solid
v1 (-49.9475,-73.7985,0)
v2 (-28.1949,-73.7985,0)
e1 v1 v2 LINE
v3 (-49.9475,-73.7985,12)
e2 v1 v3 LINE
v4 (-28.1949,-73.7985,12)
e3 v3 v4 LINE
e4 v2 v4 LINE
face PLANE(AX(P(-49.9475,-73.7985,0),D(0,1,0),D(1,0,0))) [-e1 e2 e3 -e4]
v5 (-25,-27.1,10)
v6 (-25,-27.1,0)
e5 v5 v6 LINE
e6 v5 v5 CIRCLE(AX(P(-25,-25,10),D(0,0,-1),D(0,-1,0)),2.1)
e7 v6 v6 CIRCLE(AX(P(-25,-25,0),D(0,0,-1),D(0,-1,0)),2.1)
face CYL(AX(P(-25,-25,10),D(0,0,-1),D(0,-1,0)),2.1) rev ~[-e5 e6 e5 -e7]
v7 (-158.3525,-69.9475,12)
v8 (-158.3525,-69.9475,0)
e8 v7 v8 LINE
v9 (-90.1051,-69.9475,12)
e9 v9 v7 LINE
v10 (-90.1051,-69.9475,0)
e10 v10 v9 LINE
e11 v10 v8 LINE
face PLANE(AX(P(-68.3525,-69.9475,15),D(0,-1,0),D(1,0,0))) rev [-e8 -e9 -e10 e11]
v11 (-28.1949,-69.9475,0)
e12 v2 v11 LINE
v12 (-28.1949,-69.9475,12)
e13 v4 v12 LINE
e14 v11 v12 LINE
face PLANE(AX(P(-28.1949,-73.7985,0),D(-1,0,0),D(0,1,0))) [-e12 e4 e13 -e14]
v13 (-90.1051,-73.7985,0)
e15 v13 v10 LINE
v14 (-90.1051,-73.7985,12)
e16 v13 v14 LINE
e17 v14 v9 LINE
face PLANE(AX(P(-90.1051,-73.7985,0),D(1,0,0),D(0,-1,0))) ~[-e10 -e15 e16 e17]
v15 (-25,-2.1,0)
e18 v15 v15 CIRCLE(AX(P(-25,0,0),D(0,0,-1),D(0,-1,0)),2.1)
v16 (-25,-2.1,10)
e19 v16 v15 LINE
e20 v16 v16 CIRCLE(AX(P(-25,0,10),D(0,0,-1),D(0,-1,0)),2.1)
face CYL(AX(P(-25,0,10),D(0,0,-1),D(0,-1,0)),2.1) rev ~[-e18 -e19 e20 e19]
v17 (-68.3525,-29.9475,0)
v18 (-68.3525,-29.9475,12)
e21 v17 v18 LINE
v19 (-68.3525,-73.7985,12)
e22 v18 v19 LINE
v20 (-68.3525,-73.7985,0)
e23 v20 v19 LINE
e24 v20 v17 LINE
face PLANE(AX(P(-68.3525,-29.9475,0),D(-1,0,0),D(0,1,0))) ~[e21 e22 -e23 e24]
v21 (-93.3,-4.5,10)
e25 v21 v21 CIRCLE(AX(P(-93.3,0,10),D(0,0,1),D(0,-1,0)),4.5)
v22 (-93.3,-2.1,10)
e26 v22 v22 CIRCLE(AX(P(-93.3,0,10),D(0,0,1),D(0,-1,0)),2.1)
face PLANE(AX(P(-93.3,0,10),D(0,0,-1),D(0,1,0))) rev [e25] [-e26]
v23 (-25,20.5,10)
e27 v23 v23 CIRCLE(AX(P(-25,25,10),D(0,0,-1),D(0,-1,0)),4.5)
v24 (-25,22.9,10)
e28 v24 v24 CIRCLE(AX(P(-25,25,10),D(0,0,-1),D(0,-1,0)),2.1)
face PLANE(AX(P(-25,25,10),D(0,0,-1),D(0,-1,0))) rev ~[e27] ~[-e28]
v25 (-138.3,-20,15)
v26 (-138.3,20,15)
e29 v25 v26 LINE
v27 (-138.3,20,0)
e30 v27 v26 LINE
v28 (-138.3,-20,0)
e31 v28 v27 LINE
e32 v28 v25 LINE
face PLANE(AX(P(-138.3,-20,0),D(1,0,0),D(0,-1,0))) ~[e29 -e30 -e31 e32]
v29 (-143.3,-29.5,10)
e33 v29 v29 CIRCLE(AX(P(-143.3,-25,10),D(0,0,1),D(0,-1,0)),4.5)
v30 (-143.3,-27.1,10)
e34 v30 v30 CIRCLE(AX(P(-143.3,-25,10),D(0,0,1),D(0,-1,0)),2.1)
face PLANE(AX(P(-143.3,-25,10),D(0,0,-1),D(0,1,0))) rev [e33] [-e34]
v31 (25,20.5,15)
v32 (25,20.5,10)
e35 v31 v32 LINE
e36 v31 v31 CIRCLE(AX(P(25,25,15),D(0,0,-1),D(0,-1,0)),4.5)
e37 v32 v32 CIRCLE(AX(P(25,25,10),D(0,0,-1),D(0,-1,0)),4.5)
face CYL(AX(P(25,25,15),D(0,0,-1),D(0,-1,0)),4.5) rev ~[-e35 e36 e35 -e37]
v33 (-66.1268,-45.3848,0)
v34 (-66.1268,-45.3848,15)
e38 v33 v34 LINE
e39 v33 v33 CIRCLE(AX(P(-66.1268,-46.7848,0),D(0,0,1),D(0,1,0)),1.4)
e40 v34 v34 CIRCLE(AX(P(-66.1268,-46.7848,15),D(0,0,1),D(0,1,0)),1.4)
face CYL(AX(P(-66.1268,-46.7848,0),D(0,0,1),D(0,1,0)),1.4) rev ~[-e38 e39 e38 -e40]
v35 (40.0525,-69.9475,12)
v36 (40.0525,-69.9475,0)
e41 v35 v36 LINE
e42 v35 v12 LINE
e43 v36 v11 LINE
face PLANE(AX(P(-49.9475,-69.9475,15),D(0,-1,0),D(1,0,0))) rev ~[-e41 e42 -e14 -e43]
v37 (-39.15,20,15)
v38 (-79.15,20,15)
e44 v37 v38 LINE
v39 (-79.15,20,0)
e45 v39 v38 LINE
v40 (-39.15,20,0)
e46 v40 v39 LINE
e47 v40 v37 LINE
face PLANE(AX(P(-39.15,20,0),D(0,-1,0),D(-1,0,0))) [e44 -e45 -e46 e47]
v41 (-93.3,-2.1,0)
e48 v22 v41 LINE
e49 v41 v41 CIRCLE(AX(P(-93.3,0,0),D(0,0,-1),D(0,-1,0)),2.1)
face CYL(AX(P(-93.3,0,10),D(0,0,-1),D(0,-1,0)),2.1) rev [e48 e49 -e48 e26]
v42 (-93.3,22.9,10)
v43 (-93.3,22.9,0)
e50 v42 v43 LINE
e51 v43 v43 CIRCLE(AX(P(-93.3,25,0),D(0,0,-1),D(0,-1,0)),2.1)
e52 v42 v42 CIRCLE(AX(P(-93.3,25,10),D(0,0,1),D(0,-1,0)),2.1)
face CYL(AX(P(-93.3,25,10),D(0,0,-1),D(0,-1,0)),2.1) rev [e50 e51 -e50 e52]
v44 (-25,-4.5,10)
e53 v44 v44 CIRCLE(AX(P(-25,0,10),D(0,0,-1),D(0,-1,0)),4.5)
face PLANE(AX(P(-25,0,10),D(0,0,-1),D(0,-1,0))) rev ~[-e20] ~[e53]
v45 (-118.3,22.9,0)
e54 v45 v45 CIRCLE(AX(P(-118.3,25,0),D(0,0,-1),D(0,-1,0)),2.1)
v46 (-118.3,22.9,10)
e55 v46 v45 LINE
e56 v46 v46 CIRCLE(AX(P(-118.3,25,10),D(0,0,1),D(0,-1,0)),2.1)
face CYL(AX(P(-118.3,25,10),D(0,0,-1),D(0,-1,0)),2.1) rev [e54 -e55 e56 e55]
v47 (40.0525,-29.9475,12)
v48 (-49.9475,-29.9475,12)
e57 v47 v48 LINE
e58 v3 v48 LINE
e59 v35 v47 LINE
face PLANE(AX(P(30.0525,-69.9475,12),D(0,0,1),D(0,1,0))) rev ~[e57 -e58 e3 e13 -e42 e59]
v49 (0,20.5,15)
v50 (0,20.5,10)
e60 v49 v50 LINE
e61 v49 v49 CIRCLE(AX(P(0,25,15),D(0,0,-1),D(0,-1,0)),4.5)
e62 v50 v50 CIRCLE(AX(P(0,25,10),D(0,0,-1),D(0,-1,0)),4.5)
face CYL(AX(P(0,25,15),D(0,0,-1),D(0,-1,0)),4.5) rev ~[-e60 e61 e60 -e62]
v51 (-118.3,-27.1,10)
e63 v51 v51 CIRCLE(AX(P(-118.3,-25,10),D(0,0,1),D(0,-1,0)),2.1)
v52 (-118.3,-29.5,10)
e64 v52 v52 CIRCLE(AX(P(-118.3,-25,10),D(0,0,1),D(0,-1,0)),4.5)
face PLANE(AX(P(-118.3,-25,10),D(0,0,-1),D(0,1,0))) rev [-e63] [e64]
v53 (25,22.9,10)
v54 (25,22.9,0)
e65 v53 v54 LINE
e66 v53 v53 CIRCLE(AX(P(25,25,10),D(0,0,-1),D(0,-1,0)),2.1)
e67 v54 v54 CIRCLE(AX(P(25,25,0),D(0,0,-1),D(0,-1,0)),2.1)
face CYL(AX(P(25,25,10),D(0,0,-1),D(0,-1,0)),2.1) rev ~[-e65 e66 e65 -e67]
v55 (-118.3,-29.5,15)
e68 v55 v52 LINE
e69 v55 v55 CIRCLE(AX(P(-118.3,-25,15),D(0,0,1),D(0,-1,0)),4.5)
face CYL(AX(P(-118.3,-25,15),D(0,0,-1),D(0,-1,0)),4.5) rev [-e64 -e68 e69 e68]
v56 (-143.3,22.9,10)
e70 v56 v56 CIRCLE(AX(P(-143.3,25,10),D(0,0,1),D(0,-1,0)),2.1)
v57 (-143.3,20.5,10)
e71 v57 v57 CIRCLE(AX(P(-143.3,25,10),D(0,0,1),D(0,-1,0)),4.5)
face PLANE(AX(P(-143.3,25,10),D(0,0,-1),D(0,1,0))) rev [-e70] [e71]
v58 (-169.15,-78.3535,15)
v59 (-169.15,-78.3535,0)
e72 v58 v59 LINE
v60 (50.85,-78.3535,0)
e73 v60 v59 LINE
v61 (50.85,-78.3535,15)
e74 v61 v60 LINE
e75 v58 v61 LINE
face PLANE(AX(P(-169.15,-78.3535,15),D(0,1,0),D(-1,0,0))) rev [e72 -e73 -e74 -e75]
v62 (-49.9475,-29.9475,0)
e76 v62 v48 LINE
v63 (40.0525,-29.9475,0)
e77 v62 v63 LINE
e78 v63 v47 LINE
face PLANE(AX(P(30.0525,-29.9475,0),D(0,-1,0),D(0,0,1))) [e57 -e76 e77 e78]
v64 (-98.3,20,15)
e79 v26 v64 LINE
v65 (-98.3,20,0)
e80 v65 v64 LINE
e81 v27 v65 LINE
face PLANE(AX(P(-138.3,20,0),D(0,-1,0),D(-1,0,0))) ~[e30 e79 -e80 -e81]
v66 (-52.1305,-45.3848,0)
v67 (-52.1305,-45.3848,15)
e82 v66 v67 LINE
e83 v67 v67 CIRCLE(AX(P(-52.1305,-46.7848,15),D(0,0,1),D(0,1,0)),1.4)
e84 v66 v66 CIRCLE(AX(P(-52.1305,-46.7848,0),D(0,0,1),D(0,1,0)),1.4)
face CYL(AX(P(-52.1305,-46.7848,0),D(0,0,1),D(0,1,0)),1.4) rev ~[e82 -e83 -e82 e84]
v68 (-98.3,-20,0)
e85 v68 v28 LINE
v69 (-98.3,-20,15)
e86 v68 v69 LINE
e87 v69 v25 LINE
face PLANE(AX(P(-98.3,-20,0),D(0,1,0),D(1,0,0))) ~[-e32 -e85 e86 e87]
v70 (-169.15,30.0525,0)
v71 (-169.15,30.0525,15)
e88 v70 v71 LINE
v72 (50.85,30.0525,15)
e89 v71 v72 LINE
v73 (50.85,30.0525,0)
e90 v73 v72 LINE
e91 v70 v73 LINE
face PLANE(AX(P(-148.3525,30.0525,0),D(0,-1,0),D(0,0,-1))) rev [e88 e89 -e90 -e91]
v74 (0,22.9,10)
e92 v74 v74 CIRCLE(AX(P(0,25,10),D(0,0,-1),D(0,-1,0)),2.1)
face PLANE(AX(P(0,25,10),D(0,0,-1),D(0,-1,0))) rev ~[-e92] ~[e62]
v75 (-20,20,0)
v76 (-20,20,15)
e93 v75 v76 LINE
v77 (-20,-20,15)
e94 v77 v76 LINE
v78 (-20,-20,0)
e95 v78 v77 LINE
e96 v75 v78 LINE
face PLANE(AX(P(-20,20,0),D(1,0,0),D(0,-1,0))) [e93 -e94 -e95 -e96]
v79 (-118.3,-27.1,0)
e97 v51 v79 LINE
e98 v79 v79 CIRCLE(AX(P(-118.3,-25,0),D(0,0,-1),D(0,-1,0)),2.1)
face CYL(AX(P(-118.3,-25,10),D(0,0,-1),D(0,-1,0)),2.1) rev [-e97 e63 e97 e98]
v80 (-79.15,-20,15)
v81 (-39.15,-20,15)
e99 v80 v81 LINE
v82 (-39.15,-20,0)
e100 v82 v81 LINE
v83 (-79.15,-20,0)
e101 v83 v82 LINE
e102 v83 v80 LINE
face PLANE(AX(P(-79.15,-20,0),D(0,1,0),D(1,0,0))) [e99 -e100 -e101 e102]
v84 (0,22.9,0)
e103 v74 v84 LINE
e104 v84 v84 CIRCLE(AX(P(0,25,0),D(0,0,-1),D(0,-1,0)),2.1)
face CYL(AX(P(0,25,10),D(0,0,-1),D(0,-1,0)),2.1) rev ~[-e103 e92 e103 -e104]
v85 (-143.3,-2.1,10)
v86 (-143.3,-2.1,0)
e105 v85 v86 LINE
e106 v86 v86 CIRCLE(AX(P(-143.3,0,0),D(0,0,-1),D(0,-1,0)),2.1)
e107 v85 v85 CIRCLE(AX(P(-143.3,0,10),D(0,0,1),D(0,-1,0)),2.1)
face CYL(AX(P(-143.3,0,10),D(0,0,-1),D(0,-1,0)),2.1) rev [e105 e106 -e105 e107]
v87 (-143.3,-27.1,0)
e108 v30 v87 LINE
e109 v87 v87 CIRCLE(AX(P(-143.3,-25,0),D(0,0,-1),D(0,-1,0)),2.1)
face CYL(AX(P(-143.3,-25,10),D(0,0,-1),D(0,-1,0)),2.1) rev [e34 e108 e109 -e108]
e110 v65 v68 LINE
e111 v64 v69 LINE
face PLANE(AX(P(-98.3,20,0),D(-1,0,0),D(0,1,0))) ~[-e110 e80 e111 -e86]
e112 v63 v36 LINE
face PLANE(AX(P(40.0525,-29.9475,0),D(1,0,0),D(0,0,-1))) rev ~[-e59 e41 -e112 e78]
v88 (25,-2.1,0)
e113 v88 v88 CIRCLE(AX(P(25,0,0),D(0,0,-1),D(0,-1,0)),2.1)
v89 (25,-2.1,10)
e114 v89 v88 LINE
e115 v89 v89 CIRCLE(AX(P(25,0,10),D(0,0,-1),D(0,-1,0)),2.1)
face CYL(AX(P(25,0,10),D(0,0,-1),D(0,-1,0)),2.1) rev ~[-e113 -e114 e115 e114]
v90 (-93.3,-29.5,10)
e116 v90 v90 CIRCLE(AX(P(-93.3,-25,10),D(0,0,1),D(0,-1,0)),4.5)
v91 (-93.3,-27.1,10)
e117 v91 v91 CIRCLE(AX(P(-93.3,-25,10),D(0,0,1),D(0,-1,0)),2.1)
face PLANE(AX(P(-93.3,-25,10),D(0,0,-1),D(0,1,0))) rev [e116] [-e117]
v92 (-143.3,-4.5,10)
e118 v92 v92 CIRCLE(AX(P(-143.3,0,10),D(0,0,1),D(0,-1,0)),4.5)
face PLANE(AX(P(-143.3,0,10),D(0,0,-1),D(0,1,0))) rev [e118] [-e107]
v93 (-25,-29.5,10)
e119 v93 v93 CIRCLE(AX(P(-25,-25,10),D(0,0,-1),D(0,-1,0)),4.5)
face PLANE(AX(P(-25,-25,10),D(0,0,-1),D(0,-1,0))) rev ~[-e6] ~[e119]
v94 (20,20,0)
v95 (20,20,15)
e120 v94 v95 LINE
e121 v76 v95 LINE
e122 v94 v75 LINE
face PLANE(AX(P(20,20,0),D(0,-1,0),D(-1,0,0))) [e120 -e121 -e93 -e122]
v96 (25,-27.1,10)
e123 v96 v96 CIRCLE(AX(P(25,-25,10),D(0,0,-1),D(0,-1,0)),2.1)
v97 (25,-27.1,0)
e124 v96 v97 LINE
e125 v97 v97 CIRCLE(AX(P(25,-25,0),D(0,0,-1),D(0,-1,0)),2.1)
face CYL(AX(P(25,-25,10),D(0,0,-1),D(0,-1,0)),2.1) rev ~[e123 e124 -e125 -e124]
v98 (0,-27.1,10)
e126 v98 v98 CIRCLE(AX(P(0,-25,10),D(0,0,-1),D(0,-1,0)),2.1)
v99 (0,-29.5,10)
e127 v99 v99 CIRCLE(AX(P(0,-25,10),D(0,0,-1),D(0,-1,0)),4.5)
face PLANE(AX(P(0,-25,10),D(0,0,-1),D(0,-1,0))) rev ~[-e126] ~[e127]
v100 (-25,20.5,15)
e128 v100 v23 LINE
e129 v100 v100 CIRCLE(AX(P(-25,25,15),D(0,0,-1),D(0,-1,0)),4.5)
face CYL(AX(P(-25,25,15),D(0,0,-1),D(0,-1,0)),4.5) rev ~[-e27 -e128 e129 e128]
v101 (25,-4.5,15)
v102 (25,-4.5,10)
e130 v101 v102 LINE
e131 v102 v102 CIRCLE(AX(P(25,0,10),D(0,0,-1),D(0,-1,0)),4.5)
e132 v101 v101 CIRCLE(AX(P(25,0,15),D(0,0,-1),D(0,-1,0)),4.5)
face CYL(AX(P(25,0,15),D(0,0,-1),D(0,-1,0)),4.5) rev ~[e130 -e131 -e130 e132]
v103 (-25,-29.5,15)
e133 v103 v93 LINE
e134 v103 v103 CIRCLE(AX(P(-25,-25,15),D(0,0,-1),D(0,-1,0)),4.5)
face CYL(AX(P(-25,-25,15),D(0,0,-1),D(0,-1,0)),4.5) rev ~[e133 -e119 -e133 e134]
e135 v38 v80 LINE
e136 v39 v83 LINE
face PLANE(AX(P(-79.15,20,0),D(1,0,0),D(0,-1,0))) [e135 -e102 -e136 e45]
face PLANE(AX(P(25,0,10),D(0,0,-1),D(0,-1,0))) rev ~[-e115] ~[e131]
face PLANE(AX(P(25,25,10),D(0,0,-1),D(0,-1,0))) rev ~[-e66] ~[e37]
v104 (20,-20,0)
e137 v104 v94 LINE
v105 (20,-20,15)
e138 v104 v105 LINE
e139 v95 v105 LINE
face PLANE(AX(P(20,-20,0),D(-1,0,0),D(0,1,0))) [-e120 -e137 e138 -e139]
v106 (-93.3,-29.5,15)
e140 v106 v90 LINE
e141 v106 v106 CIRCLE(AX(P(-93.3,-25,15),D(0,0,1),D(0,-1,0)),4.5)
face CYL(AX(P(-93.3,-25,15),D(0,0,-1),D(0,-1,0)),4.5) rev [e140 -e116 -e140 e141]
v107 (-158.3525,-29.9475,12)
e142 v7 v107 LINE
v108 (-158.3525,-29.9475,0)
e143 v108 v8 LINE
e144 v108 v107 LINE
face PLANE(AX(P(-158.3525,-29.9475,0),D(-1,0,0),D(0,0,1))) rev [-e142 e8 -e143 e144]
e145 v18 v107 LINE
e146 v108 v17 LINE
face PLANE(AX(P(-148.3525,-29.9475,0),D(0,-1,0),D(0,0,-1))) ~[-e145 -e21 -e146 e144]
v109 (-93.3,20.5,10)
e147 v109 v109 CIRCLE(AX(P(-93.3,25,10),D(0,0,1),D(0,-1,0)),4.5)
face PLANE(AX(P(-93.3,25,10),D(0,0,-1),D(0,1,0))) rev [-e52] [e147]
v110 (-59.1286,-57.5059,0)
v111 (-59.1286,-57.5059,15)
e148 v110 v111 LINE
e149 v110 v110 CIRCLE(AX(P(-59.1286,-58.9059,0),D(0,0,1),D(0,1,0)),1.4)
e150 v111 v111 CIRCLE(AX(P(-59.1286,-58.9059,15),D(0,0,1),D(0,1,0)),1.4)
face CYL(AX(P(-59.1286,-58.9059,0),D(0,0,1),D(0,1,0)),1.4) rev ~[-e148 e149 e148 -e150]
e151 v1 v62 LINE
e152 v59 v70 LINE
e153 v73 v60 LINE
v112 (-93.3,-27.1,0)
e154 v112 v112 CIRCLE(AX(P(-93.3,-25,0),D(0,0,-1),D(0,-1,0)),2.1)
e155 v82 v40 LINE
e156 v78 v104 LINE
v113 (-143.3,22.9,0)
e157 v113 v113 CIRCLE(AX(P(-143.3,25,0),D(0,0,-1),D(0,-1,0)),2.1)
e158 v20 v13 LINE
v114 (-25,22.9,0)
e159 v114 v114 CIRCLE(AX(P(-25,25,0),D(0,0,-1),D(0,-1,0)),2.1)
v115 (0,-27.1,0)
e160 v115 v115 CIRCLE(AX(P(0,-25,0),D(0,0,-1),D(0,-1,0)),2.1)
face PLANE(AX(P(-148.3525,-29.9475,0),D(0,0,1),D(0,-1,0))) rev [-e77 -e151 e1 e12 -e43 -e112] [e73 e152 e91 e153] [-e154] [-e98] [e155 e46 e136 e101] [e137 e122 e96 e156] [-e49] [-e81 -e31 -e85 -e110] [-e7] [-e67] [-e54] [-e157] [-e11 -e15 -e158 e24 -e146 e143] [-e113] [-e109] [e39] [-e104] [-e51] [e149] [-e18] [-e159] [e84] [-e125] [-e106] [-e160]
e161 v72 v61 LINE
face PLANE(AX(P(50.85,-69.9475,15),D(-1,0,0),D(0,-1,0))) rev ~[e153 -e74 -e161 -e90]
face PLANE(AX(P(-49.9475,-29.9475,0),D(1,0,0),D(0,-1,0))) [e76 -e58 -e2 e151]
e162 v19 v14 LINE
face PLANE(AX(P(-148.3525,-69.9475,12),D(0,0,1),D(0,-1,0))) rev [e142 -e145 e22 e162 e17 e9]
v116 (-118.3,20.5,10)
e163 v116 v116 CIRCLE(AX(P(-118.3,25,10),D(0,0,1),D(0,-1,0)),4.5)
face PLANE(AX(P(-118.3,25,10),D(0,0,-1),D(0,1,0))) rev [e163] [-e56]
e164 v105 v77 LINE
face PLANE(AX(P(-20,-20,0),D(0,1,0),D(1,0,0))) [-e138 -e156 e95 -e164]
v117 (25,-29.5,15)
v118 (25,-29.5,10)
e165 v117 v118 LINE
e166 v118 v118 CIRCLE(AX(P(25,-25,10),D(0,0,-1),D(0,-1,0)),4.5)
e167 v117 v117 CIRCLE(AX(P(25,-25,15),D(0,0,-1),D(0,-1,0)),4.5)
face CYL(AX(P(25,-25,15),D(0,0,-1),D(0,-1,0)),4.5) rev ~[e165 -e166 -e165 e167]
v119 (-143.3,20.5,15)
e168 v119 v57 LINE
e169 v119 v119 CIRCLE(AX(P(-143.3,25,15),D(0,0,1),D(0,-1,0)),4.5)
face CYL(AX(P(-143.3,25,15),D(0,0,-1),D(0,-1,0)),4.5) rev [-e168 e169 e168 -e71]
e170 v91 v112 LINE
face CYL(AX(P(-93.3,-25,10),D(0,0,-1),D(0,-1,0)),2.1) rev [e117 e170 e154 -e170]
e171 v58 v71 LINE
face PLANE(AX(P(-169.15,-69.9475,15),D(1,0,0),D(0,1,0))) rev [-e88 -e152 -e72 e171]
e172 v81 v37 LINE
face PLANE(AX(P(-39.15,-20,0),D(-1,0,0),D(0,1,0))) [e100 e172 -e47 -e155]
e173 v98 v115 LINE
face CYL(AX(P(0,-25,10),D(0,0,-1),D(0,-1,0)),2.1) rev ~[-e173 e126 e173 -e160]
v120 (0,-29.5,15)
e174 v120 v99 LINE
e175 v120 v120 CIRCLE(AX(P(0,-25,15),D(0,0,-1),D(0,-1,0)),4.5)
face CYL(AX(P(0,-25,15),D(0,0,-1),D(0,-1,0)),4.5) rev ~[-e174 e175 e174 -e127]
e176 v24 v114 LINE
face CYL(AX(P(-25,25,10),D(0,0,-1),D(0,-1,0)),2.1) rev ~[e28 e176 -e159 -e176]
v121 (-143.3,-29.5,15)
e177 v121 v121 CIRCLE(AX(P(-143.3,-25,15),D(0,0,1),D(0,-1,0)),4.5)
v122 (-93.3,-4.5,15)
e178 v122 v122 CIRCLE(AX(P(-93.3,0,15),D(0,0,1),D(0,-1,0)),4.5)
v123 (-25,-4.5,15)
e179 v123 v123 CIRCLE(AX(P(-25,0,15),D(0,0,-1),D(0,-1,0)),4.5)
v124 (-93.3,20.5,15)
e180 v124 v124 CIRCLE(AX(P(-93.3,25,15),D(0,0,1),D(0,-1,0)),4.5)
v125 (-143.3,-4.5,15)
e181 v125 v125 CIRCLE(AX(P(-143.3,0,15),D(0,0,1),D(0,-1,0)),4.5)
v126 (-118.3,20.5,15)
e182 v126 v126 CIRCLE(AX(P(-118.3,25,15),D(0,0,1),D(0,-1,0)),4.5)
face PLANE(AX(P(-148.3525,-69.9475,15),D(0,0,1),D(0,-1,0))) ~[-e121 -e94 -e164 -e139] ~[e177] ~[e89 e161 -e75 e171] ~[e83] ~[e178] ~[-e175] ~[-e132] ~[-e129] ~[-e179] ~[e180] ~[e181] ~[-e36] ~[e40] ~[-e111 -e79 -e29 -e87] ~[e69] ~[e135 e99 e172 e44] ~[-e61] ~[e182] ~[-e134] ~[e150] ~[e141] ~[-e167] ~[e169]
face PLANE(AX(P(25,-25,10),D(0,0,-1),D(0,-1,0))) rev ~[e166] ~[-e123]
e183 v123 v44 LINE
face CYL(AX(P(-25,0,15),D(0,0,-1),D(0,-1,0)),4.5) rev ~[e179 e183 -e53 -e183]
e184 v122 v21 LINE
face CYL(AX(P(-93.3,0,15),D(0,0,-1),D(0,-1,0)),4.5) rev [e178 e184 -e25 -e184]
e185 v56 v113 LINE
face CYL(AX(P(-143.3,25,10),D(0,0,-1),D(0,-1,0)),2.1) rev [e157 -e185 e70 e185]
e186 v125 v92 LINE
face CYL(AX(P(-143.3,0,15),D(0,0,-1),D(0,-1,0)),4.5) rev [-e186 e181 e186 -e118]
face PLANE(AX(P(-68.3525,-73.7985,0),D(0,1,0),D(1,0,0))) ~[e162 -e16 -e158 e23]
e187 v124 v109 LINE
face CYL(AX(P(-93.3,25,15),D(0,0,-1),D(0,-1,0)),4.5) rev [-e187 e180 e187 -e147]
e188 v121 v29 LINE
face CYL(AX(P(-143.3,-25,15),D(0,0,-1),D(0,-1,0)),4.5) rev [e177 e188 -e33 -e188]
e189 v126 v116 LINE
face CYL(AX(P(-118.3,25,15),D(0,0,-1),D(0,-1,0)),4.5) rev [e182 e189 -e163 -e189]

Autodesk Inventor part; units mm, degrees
ref_plane "YZ Plane" through (0, 0, 0) normal (1, 0, 0) x (0, 1, 0)
ref_plane "XZ Plane" through (0, 0, 0) normal (0, 1, 0) x (-1, 0, 0)
ref_plane "XY Plane" through (0, 0, 0) normal (0, 0, 1) x (1, 0, 0)
ref_plane "Work Plane1" through (0, 0, 0) normal (0, 0, 1) x (1, 0, 0)
ref_plane "Work Plane2" through (0, 0, 0) normal (0, 0, 1) x (1, 0, 0)
sketch "Sketch3" plane through (0, 0, 0) normal (0, 0, 1) x (1, 0, 0)
  circle A0 centre (0, 25) radius 1.95 construction
  circle A1 centre (-25, 0) radius 1.95 construction
  circle A2 centre (-25, -25) radius 1.95 construction
  circle A3 centre (25, 25) radius 1.95 construction
  circle A4 centre (25, -25) radius 1.95 construction
  circle A5 centre (-25, 25) radius 1.95 construction
  circle A6 centre (25, 0) radius 1.95 construction
  circle A7 centre (0, -25) radius 1.95 construction
  line L0 (-28, 30) -> (-30, 28) construction
  line L1 (-30, 28) -> (-30, -28) construction
  line L2 (-30, -28) -> (-28, -30) construction
  line L3 (-28, -30) -> (28, -30) construction
  line L4 (28, -30) -> (30, -28) construction
  line L5 (30, -28) -> (30, 28) construction
  line L6 (30, 28) -> (28, 30) construction
  line L7 (28, 30) -> (-28, 30) construction
  line L8 (30.0525, 30.0525) -> (-59.15, 30.0525)
  line L9 (-59.15, 30.0525) -> (-59.15, -29.9475)
  line L10 (-59.15, -29.9475) -> (30.0525, -29.9475)
  line L11 (30.0525, -29.9475) -> (30.0525, 30.0525)
  line L12 (-59.15, -29.9475) -> (-49.9475, -29.9475)
  line L13 (-49.9475, -29.9475) -> (-49.9475, -69.9475)
  line L14 (-49.9475, -69.9475) -> (-59.15, -69.9475)
  line L15 (-59.15, -69.9475) -> (-59.15, -29.9475)
  circle A8 centre (-59.15, -56.5073) radius 2.9125 construction
  point P0 (0, 0)
  dimension "d6" = 60
  dimension "d8" = 40
extrude "Extrusion2" add sketch "Sketch3" along normal blind 12
sketch "Sketch4" plane through (0, 0, 12) normal (0, 0, 1) x (1, 0, 0)
  line L0 (-59.15, 30.0525) -> (-59.15, -69.9475) projected
  line L1 (-59.15, -69.9475) -> (-49.9475, -69.9475) projected
  line L2 (-49.9475, -69.9475) -> (-49.9475, -29.9475) projected
  line L3 (-49.9475, -29.9475) -> (30.0525, -29.9475) projected
  line L4 (30.0525, -29.9475) -> (30.0525, 30.0525) projected
  line L5 (30.0525, 30.0525) -> (-59.15, 30.0525) projected
  line L6 (-49.9475, -69.9475) -> (30.0525, -69.9475)
  line L7 (30.0525, -69.9475) -> (30.0525, -29.9475)
  line L8 (30.0525, -29.9475) -> (-49.9475, -29.9475)
  line L9 (-49.9475, -29.9475) -> (-49.9475, -69.9475)
  point P0 (0, 0)
extrude "Extrusion3" add sketch "Sketch4" along normal blind 3
sketch "Sketch5" plane through (0, 0, 15) normal (0, 0, 1) x (1, 0, 0)
  line L0 (-59.15, -69.9475) -> (30.0525, -69.9475) projected
  line L1 (30.0525, -69.9475) -> (30.0525, 30.0525) projected
  line L2 (30.0525, 30.0525) -> (-59.15, 30.0525) projected
  line L3 (-59.15, 30.0525) -> (-59.15, -69.9475) projected
  line L4 (-59.15, -69.9475) -> (-49.9475, -69.9475) projected
  line L5 (-59.15, -69.9475) -> (50.85, -69.9475)
  line L6 (50.85, -69.9475) -> (50.85, -78.3535)
  line L7 (50.85, -78.3535) -> (-59.15, -78.3535)
  line L8 (-59.15, -78.3535) -> (-59.15, -69.9475)
  line L9 (50.85, -78.3535) -> (54.85, -78.3535)
  line L10 (54.85, -78.3535) -> (54.85, -24.0007)
  line L11 (54.85, -24.0007) -> (50.85, -24.0007)
  line L12 (50.85, -24.0007) -> (50.85, -78.3535)
  point P0 (0, 0)
  dimension "d13" = 110
  dimension "d14" = 8.406
  dimension "d15" = 4
  dimension "d16" = 54.353
extrude "Extrusion4" add sketch "Sketch5" against normal up to surface (15 mm away) contours L0 L5 L6 L7 L8
sketch "Sketch6" plane through (0, 0, 15) normal (0, 0, 1) x (1, 0, 0)
  line L0 (30.0525, -69.9475) -> (30.0525, 30.0525) projected
  line L1 (30.0525, 30.0525) -> (-59.15, 30.0525) projected
  line L2 (-59.15, 30.0525) -> (-59.15, -78.3535) projected
  line L3 (-59.15, -78.3535) -> (50.85, -78.3535) projected
  circle A0 centre (0, 25) radius 1.95 projected
  circle A1 centre (-25, 0) radius 1.95 projected
  circle A2 centre (-25, -25) radius 1.95 projected
  circle A3 centre (25, 25) radius 1.95 projected
  circle A4 centre (25, -25) radius 1.95 projected
  circle A5 centre (-25, 25) radius 1.95 projected
  circle A6 centre (25, 0) radius 1.95 projected
  circle A7 centre (0, -25) radius 1.95 projected
  line L4 (-28, 30) -> (-30, 28) projected
  line L5 (-30, 28) -> (-30, -28) projected
  line L6 (-30, -28) -> (-28, -30) projected
  line L7 (-28, -30) -> (28, -30) projected
  line L8 (28, -30) -> (30, -28) projected
  line L9 (30, -28) -> (30, 28) projected
  line L10 (30, 28) -> (28, 30) projected
  line L11 (28, 30) -> (-28, 30) projected
  line L12 (50.85, -78.3535) -> (50.85, -69.9475) projected
  line L13 (50.85, -69.9475) -> (30.0525, -69.9475) projected
  point P0 (0, 0)
hole "Hole1" at (25, 25, 15) at (0, 25, 15) at (-25, 25, 15) at (-25, 0, 15) at (-25, -25, 15) at (0, -25, 15) at (25, -25, 15) at (25, 0, 15) direction (0, 0, -1) diameter 4.2 end through all counterbore diameter 9 counterbore depth 5
sketch "Sketch7" plane through (30.0525, -29.9475, 0) normal (1, 0, 0) x (0, 0, -1)
  line L0 (-10, 34.4475) -> (-10, 25.4475) projected
  line L1 (0, 0) -> (0, 60) projected
  line L2 (0, 60) -> (-15, 60) projected
  line L3 (-15, -40) -> (-15, 60) projected
  line L4 (-12, -40) -> (-12, 0) projected
  line L5 (0, 0) -> (-12, 0) projected
  line L6 (-12, -40) -> (-15, -40) projected
  point P0 (0, 29.9475)
extrude "Extrusion5" add sketch "Sketch7" along normal blind 10
sketch "Sketch8" plane through (40.0525, -29.9475, 0) normal (1, 0, 0) x (0, 0, -1)
  line L0 (0, 0) -> (0, 60) projected
  line L1 (0, 60) -> (-15, 60) projected
  line L2 (-15, 60) -> (-15, -40) projected
  line L3 (-12, -40) -> (-12, 0) projected
  line L4 (-12, 0) -> (0, 0) projected
  line L5 (0, 0) -> (-12, 0)
  line L6 (-12, 0) -> (-12, -40)
  line L7 (-12, -40) -> (0, -40)
  line L8 (0, -40) -> (0, 0)
  line L9 (-12, -40) -> (-15, -40) projected
  point P0 (0, 29.9475)
extrude "Extrusion6" add sketch "Sketch8" along normal up to surface (10.7975 mm away)
sketch "Sketch10" plane through (0, 0, 0) normal (0, 0, -1) x (-1, 0, 0)
  line L0 (49.9475, -29.9475) -> (-40.0525, -29.9475) construction
  line L1 (49.9475, -69.9475) -> (49.9475, -29.9475) construction
  line L2 (49.9475, -69.9475) -> (-40.0525, -69.9475) construction
  line L3 (-40.0525, -69.9475) -> (-40.0525, -29.9475) construction
  circle A0 centre (-25, -25) radius 2.1 construction
  circle A1 centre (25, -25) radius 2.1 construction
  circle A2 centre (25, 25) radius 2.1 construction
  circle A3 centre (-25, 25) radius 2.1 construction
  circle A4 centre (0, 25) radius 2.1 construction
  circle A5 centre (25, 0) radius 2.1 construction
  circle A6 centre (0, -25) radius 2.1 construction
  circle A7 centre (-25, 0) radius 2.1 construction
  line L4 (-50.85, 30.0525) -> (59.15, 30.0525) construction
  line L5 (-50.85, -78.3535) -> (59.15, -78.3535) construction
  line L6 (59.15, 30.0525) -> (59.15, -78.3535) construction
  line L7 (39, -67) -> (34, -67) construction
  line L8 (34, -71) -> (34, -67) construction
  line L9 (34, -71) -> (39, -71) construction
  line L10 (39, -67) -> (39, -71) construction
  line L11 (28.1949, -69.9475) -> (49.9475, -69.9475)
  line L12 (49.9475, -69.9475) -> (49.9475, -73.7985)
  line L13 (49.9475, -73.7985) -> (28.1949, -73.7985)
  line L14 (28.1949, -73.7985) -> (28.1949, -69.9475)
  line L15 (-50.85, 30.0525) -> (-50.85, -78.3535) projected
  point P0 (0, 0)
extrude "Extrusion8" cut sketch "Sketch10" against normal up to surface (12 mm away)
sketch "Sketch15" plane through (0, 0, 0) normal (0, 0, -1) x (-1, 0, 0)
  circle A0 centre (0, 0) radius 7.5 projected
  line L0 (20, -20) -> (-20, -20)
  line L1 (-20, -20) -> (-20, 20)
  line L2 (-20, 20) -> (20, 20)
  line L3 (20, 20) -> (20, -20)
  line L4 (20, -20) -> (-20, 20) construction
  line L5 (-20, -20) -> (20, 20) construction
  point P0 (0, 0)
  dimension "d52" = 40
  dimension "d53" = 40
extrude "Extrusion10" cut sketch "Sketch15" against normal through all contours A0 | L0 L1 L2 L3
mirror "Mirror2" about plane through (-59.15, -29.9475, 0) normal (-1, 0, 0) of "Extrusion2", "Extrusion3", "Extrusion4", "Hole1", "Extrusion5", "Extrusion6", "Extrusion8", "Extrusion10"
sketch "Sketch20" plane through (0, 0, 0) normal (0, 0, -1) x (-1, 0, 0)
  circle A0 centre (59.15, -56.5073) radius 2.9125 projected
  line L0 (14, -48.5) -> (-39, -48.5)
  line L1 (14, -53.5) -> (-39, -53.5)
  line L2 (-21.1695, -50.8251) -> (110.767, -50.8251)
  line L3 (52.1305, -46.7848) -> (66.1268, -46.7848)
  line L4 (66.1268, -46.7848) -> (59.1286, -58.9059)
  line L5 (59.1286, -58.9059) -> (52.1305, -46.7848)
  point P0 (0, 0)
  point P1 (59.1286, -50.8251)
  dimension "d75" = 180
hole "Hole6" at (-52.1305, -46.7848, 0) at (-66.1268, -46.7848, 0) at (-59.1286, -58.9059, 0) direction (0, 0, 1) diameter 2.8 end through all
sketch "Sketch21" plane through (0, 0, 0) normal (0, 0, -1) x (-1, 0, 0)
  circle A0 centre (66.1268, -46.7848) radius 1.4 projected
  circle A1 centre (52.1305, -46.7848) radius 1.4 projected
  circle A2 centre (59.1286, -58.9059) radius 1.4 projected
  line L0 (169.15, 30.0525) -> (169.15, -78.3535) projected
  line L1 (-50.85, 30.0525) -> (169.15, 30.0525) projected
  line L2 (-50.85, 30.0525) -> (-50.85, -78.3535) projected
  line L3 (-50.85, -78.3535) -> (169.15, -78.3535) projected
  circle A3 centre (-25, 0) radius 2.1 projected
  circle A4 centre (0, -25) radius 2.1 projected
  circle A5 centre (25, 0) radius 2.1 projected
  circle A6 centre (0, 25) radius 2.1 projected
  circle A7 centre (-25, 25) radius 2.1 projected
  circle A8 centre (25, 25) radius 2.1 projected
  circle A9 centre (25, -25) radius 2.1 projected
  circle A10 centre (-25, -25) radius 2.1 projected
  line L4 (28.1949, -73.7985) -> (28.1949, -69.9475) projected
  line L5 (28.1949, -69.9475) -> (-40.0525, -69.9475) projected
  line L6 (-40.0525, -69.9475) -> (-40.0525, -29.9475) projected
  line L7 (49.9475, -29.9475) -> (-40.0525, -29.9475) projected
  line L8 (49.9475, -29.9475) -> (49.9475, -73.7985) projected
  line L9 (49.9475, -73.7985) -> (28.1949, -73.7985) projected
  line L10 (20, 20) -> (20, -20) projected
  line L11 (20, -20) -> (-20, -20) projected
  line L12 (-20, -20) -> (-20, 20) projected
  line L13 (-20, 20) -> (20, 20) projected
  circle A11 centre (93.3, -25) radius 2.1 projected
  circle A12 centre (93.3, 25) radius 2.1 projected
  circle A13 centre (143.3, 25) radius 2.1 projected
  circle A14 centre (118.3, 25) radius 2.1 projected
  circle A15 centre (93.3, 0) radius 2.1 projected
  circle A16 centre (118.3, -25) radius 2.1 projected
  circle A17 centre (143.3, 0) radius 2.1 projected
  circle A18 centre (143.3, -25) radius 2.1 projected
  line L14 (90.1051, -69.9475) -> (90.1051, -73.7985) projected
  line L15 (90.1051, -73.7985) -> (68.3525, -73.7985) projected
  line L16 (68.3525, -73.7985) -> (68.3525, -29.9475) projected
  line L17 (68.3525, -29.9475) -> (158.3525, -29.9475) projected
  line L18 (158.3525, -69.9475) -> (158.3525, -29.9475) projected
  line L19 (90.1051, -69.9475) -> (158.3525, -69.9475) projected
  line L20 (138.3, 20) -> (138.3, -20) projected
  line L21 (138.3, -20) -> (98.3, -20) projected
  line L22 (98.3, -20) -> (98.3, 20) projected
  line L23 (98.3, 20) -> (138.3, 20) projected
  line L24 (39.15, 20) -> (79.15, 20)
  line L25 (79.15, 20) -> (79.15, -20)
  line L26 (79.15, -20) -> (39.15, -20)
  line L27 (39.15, -20) -> (39.15, 20)
  line L28 (39.15, 20) -> (79.15, -20) construction
  line L29 (79.15, 20) -> (39.15, -20) construction
  point P0 (0, 0)
  point P1 (59.15, 0)
  dimension "d83" = 40
  dimension "d84" = 40
extrude "Extrusion13" cut sketch "Sketch21" against normal through all contours L24 L25 L26 L27
properties part number "10_Baseplate_Axiotech_mono"
